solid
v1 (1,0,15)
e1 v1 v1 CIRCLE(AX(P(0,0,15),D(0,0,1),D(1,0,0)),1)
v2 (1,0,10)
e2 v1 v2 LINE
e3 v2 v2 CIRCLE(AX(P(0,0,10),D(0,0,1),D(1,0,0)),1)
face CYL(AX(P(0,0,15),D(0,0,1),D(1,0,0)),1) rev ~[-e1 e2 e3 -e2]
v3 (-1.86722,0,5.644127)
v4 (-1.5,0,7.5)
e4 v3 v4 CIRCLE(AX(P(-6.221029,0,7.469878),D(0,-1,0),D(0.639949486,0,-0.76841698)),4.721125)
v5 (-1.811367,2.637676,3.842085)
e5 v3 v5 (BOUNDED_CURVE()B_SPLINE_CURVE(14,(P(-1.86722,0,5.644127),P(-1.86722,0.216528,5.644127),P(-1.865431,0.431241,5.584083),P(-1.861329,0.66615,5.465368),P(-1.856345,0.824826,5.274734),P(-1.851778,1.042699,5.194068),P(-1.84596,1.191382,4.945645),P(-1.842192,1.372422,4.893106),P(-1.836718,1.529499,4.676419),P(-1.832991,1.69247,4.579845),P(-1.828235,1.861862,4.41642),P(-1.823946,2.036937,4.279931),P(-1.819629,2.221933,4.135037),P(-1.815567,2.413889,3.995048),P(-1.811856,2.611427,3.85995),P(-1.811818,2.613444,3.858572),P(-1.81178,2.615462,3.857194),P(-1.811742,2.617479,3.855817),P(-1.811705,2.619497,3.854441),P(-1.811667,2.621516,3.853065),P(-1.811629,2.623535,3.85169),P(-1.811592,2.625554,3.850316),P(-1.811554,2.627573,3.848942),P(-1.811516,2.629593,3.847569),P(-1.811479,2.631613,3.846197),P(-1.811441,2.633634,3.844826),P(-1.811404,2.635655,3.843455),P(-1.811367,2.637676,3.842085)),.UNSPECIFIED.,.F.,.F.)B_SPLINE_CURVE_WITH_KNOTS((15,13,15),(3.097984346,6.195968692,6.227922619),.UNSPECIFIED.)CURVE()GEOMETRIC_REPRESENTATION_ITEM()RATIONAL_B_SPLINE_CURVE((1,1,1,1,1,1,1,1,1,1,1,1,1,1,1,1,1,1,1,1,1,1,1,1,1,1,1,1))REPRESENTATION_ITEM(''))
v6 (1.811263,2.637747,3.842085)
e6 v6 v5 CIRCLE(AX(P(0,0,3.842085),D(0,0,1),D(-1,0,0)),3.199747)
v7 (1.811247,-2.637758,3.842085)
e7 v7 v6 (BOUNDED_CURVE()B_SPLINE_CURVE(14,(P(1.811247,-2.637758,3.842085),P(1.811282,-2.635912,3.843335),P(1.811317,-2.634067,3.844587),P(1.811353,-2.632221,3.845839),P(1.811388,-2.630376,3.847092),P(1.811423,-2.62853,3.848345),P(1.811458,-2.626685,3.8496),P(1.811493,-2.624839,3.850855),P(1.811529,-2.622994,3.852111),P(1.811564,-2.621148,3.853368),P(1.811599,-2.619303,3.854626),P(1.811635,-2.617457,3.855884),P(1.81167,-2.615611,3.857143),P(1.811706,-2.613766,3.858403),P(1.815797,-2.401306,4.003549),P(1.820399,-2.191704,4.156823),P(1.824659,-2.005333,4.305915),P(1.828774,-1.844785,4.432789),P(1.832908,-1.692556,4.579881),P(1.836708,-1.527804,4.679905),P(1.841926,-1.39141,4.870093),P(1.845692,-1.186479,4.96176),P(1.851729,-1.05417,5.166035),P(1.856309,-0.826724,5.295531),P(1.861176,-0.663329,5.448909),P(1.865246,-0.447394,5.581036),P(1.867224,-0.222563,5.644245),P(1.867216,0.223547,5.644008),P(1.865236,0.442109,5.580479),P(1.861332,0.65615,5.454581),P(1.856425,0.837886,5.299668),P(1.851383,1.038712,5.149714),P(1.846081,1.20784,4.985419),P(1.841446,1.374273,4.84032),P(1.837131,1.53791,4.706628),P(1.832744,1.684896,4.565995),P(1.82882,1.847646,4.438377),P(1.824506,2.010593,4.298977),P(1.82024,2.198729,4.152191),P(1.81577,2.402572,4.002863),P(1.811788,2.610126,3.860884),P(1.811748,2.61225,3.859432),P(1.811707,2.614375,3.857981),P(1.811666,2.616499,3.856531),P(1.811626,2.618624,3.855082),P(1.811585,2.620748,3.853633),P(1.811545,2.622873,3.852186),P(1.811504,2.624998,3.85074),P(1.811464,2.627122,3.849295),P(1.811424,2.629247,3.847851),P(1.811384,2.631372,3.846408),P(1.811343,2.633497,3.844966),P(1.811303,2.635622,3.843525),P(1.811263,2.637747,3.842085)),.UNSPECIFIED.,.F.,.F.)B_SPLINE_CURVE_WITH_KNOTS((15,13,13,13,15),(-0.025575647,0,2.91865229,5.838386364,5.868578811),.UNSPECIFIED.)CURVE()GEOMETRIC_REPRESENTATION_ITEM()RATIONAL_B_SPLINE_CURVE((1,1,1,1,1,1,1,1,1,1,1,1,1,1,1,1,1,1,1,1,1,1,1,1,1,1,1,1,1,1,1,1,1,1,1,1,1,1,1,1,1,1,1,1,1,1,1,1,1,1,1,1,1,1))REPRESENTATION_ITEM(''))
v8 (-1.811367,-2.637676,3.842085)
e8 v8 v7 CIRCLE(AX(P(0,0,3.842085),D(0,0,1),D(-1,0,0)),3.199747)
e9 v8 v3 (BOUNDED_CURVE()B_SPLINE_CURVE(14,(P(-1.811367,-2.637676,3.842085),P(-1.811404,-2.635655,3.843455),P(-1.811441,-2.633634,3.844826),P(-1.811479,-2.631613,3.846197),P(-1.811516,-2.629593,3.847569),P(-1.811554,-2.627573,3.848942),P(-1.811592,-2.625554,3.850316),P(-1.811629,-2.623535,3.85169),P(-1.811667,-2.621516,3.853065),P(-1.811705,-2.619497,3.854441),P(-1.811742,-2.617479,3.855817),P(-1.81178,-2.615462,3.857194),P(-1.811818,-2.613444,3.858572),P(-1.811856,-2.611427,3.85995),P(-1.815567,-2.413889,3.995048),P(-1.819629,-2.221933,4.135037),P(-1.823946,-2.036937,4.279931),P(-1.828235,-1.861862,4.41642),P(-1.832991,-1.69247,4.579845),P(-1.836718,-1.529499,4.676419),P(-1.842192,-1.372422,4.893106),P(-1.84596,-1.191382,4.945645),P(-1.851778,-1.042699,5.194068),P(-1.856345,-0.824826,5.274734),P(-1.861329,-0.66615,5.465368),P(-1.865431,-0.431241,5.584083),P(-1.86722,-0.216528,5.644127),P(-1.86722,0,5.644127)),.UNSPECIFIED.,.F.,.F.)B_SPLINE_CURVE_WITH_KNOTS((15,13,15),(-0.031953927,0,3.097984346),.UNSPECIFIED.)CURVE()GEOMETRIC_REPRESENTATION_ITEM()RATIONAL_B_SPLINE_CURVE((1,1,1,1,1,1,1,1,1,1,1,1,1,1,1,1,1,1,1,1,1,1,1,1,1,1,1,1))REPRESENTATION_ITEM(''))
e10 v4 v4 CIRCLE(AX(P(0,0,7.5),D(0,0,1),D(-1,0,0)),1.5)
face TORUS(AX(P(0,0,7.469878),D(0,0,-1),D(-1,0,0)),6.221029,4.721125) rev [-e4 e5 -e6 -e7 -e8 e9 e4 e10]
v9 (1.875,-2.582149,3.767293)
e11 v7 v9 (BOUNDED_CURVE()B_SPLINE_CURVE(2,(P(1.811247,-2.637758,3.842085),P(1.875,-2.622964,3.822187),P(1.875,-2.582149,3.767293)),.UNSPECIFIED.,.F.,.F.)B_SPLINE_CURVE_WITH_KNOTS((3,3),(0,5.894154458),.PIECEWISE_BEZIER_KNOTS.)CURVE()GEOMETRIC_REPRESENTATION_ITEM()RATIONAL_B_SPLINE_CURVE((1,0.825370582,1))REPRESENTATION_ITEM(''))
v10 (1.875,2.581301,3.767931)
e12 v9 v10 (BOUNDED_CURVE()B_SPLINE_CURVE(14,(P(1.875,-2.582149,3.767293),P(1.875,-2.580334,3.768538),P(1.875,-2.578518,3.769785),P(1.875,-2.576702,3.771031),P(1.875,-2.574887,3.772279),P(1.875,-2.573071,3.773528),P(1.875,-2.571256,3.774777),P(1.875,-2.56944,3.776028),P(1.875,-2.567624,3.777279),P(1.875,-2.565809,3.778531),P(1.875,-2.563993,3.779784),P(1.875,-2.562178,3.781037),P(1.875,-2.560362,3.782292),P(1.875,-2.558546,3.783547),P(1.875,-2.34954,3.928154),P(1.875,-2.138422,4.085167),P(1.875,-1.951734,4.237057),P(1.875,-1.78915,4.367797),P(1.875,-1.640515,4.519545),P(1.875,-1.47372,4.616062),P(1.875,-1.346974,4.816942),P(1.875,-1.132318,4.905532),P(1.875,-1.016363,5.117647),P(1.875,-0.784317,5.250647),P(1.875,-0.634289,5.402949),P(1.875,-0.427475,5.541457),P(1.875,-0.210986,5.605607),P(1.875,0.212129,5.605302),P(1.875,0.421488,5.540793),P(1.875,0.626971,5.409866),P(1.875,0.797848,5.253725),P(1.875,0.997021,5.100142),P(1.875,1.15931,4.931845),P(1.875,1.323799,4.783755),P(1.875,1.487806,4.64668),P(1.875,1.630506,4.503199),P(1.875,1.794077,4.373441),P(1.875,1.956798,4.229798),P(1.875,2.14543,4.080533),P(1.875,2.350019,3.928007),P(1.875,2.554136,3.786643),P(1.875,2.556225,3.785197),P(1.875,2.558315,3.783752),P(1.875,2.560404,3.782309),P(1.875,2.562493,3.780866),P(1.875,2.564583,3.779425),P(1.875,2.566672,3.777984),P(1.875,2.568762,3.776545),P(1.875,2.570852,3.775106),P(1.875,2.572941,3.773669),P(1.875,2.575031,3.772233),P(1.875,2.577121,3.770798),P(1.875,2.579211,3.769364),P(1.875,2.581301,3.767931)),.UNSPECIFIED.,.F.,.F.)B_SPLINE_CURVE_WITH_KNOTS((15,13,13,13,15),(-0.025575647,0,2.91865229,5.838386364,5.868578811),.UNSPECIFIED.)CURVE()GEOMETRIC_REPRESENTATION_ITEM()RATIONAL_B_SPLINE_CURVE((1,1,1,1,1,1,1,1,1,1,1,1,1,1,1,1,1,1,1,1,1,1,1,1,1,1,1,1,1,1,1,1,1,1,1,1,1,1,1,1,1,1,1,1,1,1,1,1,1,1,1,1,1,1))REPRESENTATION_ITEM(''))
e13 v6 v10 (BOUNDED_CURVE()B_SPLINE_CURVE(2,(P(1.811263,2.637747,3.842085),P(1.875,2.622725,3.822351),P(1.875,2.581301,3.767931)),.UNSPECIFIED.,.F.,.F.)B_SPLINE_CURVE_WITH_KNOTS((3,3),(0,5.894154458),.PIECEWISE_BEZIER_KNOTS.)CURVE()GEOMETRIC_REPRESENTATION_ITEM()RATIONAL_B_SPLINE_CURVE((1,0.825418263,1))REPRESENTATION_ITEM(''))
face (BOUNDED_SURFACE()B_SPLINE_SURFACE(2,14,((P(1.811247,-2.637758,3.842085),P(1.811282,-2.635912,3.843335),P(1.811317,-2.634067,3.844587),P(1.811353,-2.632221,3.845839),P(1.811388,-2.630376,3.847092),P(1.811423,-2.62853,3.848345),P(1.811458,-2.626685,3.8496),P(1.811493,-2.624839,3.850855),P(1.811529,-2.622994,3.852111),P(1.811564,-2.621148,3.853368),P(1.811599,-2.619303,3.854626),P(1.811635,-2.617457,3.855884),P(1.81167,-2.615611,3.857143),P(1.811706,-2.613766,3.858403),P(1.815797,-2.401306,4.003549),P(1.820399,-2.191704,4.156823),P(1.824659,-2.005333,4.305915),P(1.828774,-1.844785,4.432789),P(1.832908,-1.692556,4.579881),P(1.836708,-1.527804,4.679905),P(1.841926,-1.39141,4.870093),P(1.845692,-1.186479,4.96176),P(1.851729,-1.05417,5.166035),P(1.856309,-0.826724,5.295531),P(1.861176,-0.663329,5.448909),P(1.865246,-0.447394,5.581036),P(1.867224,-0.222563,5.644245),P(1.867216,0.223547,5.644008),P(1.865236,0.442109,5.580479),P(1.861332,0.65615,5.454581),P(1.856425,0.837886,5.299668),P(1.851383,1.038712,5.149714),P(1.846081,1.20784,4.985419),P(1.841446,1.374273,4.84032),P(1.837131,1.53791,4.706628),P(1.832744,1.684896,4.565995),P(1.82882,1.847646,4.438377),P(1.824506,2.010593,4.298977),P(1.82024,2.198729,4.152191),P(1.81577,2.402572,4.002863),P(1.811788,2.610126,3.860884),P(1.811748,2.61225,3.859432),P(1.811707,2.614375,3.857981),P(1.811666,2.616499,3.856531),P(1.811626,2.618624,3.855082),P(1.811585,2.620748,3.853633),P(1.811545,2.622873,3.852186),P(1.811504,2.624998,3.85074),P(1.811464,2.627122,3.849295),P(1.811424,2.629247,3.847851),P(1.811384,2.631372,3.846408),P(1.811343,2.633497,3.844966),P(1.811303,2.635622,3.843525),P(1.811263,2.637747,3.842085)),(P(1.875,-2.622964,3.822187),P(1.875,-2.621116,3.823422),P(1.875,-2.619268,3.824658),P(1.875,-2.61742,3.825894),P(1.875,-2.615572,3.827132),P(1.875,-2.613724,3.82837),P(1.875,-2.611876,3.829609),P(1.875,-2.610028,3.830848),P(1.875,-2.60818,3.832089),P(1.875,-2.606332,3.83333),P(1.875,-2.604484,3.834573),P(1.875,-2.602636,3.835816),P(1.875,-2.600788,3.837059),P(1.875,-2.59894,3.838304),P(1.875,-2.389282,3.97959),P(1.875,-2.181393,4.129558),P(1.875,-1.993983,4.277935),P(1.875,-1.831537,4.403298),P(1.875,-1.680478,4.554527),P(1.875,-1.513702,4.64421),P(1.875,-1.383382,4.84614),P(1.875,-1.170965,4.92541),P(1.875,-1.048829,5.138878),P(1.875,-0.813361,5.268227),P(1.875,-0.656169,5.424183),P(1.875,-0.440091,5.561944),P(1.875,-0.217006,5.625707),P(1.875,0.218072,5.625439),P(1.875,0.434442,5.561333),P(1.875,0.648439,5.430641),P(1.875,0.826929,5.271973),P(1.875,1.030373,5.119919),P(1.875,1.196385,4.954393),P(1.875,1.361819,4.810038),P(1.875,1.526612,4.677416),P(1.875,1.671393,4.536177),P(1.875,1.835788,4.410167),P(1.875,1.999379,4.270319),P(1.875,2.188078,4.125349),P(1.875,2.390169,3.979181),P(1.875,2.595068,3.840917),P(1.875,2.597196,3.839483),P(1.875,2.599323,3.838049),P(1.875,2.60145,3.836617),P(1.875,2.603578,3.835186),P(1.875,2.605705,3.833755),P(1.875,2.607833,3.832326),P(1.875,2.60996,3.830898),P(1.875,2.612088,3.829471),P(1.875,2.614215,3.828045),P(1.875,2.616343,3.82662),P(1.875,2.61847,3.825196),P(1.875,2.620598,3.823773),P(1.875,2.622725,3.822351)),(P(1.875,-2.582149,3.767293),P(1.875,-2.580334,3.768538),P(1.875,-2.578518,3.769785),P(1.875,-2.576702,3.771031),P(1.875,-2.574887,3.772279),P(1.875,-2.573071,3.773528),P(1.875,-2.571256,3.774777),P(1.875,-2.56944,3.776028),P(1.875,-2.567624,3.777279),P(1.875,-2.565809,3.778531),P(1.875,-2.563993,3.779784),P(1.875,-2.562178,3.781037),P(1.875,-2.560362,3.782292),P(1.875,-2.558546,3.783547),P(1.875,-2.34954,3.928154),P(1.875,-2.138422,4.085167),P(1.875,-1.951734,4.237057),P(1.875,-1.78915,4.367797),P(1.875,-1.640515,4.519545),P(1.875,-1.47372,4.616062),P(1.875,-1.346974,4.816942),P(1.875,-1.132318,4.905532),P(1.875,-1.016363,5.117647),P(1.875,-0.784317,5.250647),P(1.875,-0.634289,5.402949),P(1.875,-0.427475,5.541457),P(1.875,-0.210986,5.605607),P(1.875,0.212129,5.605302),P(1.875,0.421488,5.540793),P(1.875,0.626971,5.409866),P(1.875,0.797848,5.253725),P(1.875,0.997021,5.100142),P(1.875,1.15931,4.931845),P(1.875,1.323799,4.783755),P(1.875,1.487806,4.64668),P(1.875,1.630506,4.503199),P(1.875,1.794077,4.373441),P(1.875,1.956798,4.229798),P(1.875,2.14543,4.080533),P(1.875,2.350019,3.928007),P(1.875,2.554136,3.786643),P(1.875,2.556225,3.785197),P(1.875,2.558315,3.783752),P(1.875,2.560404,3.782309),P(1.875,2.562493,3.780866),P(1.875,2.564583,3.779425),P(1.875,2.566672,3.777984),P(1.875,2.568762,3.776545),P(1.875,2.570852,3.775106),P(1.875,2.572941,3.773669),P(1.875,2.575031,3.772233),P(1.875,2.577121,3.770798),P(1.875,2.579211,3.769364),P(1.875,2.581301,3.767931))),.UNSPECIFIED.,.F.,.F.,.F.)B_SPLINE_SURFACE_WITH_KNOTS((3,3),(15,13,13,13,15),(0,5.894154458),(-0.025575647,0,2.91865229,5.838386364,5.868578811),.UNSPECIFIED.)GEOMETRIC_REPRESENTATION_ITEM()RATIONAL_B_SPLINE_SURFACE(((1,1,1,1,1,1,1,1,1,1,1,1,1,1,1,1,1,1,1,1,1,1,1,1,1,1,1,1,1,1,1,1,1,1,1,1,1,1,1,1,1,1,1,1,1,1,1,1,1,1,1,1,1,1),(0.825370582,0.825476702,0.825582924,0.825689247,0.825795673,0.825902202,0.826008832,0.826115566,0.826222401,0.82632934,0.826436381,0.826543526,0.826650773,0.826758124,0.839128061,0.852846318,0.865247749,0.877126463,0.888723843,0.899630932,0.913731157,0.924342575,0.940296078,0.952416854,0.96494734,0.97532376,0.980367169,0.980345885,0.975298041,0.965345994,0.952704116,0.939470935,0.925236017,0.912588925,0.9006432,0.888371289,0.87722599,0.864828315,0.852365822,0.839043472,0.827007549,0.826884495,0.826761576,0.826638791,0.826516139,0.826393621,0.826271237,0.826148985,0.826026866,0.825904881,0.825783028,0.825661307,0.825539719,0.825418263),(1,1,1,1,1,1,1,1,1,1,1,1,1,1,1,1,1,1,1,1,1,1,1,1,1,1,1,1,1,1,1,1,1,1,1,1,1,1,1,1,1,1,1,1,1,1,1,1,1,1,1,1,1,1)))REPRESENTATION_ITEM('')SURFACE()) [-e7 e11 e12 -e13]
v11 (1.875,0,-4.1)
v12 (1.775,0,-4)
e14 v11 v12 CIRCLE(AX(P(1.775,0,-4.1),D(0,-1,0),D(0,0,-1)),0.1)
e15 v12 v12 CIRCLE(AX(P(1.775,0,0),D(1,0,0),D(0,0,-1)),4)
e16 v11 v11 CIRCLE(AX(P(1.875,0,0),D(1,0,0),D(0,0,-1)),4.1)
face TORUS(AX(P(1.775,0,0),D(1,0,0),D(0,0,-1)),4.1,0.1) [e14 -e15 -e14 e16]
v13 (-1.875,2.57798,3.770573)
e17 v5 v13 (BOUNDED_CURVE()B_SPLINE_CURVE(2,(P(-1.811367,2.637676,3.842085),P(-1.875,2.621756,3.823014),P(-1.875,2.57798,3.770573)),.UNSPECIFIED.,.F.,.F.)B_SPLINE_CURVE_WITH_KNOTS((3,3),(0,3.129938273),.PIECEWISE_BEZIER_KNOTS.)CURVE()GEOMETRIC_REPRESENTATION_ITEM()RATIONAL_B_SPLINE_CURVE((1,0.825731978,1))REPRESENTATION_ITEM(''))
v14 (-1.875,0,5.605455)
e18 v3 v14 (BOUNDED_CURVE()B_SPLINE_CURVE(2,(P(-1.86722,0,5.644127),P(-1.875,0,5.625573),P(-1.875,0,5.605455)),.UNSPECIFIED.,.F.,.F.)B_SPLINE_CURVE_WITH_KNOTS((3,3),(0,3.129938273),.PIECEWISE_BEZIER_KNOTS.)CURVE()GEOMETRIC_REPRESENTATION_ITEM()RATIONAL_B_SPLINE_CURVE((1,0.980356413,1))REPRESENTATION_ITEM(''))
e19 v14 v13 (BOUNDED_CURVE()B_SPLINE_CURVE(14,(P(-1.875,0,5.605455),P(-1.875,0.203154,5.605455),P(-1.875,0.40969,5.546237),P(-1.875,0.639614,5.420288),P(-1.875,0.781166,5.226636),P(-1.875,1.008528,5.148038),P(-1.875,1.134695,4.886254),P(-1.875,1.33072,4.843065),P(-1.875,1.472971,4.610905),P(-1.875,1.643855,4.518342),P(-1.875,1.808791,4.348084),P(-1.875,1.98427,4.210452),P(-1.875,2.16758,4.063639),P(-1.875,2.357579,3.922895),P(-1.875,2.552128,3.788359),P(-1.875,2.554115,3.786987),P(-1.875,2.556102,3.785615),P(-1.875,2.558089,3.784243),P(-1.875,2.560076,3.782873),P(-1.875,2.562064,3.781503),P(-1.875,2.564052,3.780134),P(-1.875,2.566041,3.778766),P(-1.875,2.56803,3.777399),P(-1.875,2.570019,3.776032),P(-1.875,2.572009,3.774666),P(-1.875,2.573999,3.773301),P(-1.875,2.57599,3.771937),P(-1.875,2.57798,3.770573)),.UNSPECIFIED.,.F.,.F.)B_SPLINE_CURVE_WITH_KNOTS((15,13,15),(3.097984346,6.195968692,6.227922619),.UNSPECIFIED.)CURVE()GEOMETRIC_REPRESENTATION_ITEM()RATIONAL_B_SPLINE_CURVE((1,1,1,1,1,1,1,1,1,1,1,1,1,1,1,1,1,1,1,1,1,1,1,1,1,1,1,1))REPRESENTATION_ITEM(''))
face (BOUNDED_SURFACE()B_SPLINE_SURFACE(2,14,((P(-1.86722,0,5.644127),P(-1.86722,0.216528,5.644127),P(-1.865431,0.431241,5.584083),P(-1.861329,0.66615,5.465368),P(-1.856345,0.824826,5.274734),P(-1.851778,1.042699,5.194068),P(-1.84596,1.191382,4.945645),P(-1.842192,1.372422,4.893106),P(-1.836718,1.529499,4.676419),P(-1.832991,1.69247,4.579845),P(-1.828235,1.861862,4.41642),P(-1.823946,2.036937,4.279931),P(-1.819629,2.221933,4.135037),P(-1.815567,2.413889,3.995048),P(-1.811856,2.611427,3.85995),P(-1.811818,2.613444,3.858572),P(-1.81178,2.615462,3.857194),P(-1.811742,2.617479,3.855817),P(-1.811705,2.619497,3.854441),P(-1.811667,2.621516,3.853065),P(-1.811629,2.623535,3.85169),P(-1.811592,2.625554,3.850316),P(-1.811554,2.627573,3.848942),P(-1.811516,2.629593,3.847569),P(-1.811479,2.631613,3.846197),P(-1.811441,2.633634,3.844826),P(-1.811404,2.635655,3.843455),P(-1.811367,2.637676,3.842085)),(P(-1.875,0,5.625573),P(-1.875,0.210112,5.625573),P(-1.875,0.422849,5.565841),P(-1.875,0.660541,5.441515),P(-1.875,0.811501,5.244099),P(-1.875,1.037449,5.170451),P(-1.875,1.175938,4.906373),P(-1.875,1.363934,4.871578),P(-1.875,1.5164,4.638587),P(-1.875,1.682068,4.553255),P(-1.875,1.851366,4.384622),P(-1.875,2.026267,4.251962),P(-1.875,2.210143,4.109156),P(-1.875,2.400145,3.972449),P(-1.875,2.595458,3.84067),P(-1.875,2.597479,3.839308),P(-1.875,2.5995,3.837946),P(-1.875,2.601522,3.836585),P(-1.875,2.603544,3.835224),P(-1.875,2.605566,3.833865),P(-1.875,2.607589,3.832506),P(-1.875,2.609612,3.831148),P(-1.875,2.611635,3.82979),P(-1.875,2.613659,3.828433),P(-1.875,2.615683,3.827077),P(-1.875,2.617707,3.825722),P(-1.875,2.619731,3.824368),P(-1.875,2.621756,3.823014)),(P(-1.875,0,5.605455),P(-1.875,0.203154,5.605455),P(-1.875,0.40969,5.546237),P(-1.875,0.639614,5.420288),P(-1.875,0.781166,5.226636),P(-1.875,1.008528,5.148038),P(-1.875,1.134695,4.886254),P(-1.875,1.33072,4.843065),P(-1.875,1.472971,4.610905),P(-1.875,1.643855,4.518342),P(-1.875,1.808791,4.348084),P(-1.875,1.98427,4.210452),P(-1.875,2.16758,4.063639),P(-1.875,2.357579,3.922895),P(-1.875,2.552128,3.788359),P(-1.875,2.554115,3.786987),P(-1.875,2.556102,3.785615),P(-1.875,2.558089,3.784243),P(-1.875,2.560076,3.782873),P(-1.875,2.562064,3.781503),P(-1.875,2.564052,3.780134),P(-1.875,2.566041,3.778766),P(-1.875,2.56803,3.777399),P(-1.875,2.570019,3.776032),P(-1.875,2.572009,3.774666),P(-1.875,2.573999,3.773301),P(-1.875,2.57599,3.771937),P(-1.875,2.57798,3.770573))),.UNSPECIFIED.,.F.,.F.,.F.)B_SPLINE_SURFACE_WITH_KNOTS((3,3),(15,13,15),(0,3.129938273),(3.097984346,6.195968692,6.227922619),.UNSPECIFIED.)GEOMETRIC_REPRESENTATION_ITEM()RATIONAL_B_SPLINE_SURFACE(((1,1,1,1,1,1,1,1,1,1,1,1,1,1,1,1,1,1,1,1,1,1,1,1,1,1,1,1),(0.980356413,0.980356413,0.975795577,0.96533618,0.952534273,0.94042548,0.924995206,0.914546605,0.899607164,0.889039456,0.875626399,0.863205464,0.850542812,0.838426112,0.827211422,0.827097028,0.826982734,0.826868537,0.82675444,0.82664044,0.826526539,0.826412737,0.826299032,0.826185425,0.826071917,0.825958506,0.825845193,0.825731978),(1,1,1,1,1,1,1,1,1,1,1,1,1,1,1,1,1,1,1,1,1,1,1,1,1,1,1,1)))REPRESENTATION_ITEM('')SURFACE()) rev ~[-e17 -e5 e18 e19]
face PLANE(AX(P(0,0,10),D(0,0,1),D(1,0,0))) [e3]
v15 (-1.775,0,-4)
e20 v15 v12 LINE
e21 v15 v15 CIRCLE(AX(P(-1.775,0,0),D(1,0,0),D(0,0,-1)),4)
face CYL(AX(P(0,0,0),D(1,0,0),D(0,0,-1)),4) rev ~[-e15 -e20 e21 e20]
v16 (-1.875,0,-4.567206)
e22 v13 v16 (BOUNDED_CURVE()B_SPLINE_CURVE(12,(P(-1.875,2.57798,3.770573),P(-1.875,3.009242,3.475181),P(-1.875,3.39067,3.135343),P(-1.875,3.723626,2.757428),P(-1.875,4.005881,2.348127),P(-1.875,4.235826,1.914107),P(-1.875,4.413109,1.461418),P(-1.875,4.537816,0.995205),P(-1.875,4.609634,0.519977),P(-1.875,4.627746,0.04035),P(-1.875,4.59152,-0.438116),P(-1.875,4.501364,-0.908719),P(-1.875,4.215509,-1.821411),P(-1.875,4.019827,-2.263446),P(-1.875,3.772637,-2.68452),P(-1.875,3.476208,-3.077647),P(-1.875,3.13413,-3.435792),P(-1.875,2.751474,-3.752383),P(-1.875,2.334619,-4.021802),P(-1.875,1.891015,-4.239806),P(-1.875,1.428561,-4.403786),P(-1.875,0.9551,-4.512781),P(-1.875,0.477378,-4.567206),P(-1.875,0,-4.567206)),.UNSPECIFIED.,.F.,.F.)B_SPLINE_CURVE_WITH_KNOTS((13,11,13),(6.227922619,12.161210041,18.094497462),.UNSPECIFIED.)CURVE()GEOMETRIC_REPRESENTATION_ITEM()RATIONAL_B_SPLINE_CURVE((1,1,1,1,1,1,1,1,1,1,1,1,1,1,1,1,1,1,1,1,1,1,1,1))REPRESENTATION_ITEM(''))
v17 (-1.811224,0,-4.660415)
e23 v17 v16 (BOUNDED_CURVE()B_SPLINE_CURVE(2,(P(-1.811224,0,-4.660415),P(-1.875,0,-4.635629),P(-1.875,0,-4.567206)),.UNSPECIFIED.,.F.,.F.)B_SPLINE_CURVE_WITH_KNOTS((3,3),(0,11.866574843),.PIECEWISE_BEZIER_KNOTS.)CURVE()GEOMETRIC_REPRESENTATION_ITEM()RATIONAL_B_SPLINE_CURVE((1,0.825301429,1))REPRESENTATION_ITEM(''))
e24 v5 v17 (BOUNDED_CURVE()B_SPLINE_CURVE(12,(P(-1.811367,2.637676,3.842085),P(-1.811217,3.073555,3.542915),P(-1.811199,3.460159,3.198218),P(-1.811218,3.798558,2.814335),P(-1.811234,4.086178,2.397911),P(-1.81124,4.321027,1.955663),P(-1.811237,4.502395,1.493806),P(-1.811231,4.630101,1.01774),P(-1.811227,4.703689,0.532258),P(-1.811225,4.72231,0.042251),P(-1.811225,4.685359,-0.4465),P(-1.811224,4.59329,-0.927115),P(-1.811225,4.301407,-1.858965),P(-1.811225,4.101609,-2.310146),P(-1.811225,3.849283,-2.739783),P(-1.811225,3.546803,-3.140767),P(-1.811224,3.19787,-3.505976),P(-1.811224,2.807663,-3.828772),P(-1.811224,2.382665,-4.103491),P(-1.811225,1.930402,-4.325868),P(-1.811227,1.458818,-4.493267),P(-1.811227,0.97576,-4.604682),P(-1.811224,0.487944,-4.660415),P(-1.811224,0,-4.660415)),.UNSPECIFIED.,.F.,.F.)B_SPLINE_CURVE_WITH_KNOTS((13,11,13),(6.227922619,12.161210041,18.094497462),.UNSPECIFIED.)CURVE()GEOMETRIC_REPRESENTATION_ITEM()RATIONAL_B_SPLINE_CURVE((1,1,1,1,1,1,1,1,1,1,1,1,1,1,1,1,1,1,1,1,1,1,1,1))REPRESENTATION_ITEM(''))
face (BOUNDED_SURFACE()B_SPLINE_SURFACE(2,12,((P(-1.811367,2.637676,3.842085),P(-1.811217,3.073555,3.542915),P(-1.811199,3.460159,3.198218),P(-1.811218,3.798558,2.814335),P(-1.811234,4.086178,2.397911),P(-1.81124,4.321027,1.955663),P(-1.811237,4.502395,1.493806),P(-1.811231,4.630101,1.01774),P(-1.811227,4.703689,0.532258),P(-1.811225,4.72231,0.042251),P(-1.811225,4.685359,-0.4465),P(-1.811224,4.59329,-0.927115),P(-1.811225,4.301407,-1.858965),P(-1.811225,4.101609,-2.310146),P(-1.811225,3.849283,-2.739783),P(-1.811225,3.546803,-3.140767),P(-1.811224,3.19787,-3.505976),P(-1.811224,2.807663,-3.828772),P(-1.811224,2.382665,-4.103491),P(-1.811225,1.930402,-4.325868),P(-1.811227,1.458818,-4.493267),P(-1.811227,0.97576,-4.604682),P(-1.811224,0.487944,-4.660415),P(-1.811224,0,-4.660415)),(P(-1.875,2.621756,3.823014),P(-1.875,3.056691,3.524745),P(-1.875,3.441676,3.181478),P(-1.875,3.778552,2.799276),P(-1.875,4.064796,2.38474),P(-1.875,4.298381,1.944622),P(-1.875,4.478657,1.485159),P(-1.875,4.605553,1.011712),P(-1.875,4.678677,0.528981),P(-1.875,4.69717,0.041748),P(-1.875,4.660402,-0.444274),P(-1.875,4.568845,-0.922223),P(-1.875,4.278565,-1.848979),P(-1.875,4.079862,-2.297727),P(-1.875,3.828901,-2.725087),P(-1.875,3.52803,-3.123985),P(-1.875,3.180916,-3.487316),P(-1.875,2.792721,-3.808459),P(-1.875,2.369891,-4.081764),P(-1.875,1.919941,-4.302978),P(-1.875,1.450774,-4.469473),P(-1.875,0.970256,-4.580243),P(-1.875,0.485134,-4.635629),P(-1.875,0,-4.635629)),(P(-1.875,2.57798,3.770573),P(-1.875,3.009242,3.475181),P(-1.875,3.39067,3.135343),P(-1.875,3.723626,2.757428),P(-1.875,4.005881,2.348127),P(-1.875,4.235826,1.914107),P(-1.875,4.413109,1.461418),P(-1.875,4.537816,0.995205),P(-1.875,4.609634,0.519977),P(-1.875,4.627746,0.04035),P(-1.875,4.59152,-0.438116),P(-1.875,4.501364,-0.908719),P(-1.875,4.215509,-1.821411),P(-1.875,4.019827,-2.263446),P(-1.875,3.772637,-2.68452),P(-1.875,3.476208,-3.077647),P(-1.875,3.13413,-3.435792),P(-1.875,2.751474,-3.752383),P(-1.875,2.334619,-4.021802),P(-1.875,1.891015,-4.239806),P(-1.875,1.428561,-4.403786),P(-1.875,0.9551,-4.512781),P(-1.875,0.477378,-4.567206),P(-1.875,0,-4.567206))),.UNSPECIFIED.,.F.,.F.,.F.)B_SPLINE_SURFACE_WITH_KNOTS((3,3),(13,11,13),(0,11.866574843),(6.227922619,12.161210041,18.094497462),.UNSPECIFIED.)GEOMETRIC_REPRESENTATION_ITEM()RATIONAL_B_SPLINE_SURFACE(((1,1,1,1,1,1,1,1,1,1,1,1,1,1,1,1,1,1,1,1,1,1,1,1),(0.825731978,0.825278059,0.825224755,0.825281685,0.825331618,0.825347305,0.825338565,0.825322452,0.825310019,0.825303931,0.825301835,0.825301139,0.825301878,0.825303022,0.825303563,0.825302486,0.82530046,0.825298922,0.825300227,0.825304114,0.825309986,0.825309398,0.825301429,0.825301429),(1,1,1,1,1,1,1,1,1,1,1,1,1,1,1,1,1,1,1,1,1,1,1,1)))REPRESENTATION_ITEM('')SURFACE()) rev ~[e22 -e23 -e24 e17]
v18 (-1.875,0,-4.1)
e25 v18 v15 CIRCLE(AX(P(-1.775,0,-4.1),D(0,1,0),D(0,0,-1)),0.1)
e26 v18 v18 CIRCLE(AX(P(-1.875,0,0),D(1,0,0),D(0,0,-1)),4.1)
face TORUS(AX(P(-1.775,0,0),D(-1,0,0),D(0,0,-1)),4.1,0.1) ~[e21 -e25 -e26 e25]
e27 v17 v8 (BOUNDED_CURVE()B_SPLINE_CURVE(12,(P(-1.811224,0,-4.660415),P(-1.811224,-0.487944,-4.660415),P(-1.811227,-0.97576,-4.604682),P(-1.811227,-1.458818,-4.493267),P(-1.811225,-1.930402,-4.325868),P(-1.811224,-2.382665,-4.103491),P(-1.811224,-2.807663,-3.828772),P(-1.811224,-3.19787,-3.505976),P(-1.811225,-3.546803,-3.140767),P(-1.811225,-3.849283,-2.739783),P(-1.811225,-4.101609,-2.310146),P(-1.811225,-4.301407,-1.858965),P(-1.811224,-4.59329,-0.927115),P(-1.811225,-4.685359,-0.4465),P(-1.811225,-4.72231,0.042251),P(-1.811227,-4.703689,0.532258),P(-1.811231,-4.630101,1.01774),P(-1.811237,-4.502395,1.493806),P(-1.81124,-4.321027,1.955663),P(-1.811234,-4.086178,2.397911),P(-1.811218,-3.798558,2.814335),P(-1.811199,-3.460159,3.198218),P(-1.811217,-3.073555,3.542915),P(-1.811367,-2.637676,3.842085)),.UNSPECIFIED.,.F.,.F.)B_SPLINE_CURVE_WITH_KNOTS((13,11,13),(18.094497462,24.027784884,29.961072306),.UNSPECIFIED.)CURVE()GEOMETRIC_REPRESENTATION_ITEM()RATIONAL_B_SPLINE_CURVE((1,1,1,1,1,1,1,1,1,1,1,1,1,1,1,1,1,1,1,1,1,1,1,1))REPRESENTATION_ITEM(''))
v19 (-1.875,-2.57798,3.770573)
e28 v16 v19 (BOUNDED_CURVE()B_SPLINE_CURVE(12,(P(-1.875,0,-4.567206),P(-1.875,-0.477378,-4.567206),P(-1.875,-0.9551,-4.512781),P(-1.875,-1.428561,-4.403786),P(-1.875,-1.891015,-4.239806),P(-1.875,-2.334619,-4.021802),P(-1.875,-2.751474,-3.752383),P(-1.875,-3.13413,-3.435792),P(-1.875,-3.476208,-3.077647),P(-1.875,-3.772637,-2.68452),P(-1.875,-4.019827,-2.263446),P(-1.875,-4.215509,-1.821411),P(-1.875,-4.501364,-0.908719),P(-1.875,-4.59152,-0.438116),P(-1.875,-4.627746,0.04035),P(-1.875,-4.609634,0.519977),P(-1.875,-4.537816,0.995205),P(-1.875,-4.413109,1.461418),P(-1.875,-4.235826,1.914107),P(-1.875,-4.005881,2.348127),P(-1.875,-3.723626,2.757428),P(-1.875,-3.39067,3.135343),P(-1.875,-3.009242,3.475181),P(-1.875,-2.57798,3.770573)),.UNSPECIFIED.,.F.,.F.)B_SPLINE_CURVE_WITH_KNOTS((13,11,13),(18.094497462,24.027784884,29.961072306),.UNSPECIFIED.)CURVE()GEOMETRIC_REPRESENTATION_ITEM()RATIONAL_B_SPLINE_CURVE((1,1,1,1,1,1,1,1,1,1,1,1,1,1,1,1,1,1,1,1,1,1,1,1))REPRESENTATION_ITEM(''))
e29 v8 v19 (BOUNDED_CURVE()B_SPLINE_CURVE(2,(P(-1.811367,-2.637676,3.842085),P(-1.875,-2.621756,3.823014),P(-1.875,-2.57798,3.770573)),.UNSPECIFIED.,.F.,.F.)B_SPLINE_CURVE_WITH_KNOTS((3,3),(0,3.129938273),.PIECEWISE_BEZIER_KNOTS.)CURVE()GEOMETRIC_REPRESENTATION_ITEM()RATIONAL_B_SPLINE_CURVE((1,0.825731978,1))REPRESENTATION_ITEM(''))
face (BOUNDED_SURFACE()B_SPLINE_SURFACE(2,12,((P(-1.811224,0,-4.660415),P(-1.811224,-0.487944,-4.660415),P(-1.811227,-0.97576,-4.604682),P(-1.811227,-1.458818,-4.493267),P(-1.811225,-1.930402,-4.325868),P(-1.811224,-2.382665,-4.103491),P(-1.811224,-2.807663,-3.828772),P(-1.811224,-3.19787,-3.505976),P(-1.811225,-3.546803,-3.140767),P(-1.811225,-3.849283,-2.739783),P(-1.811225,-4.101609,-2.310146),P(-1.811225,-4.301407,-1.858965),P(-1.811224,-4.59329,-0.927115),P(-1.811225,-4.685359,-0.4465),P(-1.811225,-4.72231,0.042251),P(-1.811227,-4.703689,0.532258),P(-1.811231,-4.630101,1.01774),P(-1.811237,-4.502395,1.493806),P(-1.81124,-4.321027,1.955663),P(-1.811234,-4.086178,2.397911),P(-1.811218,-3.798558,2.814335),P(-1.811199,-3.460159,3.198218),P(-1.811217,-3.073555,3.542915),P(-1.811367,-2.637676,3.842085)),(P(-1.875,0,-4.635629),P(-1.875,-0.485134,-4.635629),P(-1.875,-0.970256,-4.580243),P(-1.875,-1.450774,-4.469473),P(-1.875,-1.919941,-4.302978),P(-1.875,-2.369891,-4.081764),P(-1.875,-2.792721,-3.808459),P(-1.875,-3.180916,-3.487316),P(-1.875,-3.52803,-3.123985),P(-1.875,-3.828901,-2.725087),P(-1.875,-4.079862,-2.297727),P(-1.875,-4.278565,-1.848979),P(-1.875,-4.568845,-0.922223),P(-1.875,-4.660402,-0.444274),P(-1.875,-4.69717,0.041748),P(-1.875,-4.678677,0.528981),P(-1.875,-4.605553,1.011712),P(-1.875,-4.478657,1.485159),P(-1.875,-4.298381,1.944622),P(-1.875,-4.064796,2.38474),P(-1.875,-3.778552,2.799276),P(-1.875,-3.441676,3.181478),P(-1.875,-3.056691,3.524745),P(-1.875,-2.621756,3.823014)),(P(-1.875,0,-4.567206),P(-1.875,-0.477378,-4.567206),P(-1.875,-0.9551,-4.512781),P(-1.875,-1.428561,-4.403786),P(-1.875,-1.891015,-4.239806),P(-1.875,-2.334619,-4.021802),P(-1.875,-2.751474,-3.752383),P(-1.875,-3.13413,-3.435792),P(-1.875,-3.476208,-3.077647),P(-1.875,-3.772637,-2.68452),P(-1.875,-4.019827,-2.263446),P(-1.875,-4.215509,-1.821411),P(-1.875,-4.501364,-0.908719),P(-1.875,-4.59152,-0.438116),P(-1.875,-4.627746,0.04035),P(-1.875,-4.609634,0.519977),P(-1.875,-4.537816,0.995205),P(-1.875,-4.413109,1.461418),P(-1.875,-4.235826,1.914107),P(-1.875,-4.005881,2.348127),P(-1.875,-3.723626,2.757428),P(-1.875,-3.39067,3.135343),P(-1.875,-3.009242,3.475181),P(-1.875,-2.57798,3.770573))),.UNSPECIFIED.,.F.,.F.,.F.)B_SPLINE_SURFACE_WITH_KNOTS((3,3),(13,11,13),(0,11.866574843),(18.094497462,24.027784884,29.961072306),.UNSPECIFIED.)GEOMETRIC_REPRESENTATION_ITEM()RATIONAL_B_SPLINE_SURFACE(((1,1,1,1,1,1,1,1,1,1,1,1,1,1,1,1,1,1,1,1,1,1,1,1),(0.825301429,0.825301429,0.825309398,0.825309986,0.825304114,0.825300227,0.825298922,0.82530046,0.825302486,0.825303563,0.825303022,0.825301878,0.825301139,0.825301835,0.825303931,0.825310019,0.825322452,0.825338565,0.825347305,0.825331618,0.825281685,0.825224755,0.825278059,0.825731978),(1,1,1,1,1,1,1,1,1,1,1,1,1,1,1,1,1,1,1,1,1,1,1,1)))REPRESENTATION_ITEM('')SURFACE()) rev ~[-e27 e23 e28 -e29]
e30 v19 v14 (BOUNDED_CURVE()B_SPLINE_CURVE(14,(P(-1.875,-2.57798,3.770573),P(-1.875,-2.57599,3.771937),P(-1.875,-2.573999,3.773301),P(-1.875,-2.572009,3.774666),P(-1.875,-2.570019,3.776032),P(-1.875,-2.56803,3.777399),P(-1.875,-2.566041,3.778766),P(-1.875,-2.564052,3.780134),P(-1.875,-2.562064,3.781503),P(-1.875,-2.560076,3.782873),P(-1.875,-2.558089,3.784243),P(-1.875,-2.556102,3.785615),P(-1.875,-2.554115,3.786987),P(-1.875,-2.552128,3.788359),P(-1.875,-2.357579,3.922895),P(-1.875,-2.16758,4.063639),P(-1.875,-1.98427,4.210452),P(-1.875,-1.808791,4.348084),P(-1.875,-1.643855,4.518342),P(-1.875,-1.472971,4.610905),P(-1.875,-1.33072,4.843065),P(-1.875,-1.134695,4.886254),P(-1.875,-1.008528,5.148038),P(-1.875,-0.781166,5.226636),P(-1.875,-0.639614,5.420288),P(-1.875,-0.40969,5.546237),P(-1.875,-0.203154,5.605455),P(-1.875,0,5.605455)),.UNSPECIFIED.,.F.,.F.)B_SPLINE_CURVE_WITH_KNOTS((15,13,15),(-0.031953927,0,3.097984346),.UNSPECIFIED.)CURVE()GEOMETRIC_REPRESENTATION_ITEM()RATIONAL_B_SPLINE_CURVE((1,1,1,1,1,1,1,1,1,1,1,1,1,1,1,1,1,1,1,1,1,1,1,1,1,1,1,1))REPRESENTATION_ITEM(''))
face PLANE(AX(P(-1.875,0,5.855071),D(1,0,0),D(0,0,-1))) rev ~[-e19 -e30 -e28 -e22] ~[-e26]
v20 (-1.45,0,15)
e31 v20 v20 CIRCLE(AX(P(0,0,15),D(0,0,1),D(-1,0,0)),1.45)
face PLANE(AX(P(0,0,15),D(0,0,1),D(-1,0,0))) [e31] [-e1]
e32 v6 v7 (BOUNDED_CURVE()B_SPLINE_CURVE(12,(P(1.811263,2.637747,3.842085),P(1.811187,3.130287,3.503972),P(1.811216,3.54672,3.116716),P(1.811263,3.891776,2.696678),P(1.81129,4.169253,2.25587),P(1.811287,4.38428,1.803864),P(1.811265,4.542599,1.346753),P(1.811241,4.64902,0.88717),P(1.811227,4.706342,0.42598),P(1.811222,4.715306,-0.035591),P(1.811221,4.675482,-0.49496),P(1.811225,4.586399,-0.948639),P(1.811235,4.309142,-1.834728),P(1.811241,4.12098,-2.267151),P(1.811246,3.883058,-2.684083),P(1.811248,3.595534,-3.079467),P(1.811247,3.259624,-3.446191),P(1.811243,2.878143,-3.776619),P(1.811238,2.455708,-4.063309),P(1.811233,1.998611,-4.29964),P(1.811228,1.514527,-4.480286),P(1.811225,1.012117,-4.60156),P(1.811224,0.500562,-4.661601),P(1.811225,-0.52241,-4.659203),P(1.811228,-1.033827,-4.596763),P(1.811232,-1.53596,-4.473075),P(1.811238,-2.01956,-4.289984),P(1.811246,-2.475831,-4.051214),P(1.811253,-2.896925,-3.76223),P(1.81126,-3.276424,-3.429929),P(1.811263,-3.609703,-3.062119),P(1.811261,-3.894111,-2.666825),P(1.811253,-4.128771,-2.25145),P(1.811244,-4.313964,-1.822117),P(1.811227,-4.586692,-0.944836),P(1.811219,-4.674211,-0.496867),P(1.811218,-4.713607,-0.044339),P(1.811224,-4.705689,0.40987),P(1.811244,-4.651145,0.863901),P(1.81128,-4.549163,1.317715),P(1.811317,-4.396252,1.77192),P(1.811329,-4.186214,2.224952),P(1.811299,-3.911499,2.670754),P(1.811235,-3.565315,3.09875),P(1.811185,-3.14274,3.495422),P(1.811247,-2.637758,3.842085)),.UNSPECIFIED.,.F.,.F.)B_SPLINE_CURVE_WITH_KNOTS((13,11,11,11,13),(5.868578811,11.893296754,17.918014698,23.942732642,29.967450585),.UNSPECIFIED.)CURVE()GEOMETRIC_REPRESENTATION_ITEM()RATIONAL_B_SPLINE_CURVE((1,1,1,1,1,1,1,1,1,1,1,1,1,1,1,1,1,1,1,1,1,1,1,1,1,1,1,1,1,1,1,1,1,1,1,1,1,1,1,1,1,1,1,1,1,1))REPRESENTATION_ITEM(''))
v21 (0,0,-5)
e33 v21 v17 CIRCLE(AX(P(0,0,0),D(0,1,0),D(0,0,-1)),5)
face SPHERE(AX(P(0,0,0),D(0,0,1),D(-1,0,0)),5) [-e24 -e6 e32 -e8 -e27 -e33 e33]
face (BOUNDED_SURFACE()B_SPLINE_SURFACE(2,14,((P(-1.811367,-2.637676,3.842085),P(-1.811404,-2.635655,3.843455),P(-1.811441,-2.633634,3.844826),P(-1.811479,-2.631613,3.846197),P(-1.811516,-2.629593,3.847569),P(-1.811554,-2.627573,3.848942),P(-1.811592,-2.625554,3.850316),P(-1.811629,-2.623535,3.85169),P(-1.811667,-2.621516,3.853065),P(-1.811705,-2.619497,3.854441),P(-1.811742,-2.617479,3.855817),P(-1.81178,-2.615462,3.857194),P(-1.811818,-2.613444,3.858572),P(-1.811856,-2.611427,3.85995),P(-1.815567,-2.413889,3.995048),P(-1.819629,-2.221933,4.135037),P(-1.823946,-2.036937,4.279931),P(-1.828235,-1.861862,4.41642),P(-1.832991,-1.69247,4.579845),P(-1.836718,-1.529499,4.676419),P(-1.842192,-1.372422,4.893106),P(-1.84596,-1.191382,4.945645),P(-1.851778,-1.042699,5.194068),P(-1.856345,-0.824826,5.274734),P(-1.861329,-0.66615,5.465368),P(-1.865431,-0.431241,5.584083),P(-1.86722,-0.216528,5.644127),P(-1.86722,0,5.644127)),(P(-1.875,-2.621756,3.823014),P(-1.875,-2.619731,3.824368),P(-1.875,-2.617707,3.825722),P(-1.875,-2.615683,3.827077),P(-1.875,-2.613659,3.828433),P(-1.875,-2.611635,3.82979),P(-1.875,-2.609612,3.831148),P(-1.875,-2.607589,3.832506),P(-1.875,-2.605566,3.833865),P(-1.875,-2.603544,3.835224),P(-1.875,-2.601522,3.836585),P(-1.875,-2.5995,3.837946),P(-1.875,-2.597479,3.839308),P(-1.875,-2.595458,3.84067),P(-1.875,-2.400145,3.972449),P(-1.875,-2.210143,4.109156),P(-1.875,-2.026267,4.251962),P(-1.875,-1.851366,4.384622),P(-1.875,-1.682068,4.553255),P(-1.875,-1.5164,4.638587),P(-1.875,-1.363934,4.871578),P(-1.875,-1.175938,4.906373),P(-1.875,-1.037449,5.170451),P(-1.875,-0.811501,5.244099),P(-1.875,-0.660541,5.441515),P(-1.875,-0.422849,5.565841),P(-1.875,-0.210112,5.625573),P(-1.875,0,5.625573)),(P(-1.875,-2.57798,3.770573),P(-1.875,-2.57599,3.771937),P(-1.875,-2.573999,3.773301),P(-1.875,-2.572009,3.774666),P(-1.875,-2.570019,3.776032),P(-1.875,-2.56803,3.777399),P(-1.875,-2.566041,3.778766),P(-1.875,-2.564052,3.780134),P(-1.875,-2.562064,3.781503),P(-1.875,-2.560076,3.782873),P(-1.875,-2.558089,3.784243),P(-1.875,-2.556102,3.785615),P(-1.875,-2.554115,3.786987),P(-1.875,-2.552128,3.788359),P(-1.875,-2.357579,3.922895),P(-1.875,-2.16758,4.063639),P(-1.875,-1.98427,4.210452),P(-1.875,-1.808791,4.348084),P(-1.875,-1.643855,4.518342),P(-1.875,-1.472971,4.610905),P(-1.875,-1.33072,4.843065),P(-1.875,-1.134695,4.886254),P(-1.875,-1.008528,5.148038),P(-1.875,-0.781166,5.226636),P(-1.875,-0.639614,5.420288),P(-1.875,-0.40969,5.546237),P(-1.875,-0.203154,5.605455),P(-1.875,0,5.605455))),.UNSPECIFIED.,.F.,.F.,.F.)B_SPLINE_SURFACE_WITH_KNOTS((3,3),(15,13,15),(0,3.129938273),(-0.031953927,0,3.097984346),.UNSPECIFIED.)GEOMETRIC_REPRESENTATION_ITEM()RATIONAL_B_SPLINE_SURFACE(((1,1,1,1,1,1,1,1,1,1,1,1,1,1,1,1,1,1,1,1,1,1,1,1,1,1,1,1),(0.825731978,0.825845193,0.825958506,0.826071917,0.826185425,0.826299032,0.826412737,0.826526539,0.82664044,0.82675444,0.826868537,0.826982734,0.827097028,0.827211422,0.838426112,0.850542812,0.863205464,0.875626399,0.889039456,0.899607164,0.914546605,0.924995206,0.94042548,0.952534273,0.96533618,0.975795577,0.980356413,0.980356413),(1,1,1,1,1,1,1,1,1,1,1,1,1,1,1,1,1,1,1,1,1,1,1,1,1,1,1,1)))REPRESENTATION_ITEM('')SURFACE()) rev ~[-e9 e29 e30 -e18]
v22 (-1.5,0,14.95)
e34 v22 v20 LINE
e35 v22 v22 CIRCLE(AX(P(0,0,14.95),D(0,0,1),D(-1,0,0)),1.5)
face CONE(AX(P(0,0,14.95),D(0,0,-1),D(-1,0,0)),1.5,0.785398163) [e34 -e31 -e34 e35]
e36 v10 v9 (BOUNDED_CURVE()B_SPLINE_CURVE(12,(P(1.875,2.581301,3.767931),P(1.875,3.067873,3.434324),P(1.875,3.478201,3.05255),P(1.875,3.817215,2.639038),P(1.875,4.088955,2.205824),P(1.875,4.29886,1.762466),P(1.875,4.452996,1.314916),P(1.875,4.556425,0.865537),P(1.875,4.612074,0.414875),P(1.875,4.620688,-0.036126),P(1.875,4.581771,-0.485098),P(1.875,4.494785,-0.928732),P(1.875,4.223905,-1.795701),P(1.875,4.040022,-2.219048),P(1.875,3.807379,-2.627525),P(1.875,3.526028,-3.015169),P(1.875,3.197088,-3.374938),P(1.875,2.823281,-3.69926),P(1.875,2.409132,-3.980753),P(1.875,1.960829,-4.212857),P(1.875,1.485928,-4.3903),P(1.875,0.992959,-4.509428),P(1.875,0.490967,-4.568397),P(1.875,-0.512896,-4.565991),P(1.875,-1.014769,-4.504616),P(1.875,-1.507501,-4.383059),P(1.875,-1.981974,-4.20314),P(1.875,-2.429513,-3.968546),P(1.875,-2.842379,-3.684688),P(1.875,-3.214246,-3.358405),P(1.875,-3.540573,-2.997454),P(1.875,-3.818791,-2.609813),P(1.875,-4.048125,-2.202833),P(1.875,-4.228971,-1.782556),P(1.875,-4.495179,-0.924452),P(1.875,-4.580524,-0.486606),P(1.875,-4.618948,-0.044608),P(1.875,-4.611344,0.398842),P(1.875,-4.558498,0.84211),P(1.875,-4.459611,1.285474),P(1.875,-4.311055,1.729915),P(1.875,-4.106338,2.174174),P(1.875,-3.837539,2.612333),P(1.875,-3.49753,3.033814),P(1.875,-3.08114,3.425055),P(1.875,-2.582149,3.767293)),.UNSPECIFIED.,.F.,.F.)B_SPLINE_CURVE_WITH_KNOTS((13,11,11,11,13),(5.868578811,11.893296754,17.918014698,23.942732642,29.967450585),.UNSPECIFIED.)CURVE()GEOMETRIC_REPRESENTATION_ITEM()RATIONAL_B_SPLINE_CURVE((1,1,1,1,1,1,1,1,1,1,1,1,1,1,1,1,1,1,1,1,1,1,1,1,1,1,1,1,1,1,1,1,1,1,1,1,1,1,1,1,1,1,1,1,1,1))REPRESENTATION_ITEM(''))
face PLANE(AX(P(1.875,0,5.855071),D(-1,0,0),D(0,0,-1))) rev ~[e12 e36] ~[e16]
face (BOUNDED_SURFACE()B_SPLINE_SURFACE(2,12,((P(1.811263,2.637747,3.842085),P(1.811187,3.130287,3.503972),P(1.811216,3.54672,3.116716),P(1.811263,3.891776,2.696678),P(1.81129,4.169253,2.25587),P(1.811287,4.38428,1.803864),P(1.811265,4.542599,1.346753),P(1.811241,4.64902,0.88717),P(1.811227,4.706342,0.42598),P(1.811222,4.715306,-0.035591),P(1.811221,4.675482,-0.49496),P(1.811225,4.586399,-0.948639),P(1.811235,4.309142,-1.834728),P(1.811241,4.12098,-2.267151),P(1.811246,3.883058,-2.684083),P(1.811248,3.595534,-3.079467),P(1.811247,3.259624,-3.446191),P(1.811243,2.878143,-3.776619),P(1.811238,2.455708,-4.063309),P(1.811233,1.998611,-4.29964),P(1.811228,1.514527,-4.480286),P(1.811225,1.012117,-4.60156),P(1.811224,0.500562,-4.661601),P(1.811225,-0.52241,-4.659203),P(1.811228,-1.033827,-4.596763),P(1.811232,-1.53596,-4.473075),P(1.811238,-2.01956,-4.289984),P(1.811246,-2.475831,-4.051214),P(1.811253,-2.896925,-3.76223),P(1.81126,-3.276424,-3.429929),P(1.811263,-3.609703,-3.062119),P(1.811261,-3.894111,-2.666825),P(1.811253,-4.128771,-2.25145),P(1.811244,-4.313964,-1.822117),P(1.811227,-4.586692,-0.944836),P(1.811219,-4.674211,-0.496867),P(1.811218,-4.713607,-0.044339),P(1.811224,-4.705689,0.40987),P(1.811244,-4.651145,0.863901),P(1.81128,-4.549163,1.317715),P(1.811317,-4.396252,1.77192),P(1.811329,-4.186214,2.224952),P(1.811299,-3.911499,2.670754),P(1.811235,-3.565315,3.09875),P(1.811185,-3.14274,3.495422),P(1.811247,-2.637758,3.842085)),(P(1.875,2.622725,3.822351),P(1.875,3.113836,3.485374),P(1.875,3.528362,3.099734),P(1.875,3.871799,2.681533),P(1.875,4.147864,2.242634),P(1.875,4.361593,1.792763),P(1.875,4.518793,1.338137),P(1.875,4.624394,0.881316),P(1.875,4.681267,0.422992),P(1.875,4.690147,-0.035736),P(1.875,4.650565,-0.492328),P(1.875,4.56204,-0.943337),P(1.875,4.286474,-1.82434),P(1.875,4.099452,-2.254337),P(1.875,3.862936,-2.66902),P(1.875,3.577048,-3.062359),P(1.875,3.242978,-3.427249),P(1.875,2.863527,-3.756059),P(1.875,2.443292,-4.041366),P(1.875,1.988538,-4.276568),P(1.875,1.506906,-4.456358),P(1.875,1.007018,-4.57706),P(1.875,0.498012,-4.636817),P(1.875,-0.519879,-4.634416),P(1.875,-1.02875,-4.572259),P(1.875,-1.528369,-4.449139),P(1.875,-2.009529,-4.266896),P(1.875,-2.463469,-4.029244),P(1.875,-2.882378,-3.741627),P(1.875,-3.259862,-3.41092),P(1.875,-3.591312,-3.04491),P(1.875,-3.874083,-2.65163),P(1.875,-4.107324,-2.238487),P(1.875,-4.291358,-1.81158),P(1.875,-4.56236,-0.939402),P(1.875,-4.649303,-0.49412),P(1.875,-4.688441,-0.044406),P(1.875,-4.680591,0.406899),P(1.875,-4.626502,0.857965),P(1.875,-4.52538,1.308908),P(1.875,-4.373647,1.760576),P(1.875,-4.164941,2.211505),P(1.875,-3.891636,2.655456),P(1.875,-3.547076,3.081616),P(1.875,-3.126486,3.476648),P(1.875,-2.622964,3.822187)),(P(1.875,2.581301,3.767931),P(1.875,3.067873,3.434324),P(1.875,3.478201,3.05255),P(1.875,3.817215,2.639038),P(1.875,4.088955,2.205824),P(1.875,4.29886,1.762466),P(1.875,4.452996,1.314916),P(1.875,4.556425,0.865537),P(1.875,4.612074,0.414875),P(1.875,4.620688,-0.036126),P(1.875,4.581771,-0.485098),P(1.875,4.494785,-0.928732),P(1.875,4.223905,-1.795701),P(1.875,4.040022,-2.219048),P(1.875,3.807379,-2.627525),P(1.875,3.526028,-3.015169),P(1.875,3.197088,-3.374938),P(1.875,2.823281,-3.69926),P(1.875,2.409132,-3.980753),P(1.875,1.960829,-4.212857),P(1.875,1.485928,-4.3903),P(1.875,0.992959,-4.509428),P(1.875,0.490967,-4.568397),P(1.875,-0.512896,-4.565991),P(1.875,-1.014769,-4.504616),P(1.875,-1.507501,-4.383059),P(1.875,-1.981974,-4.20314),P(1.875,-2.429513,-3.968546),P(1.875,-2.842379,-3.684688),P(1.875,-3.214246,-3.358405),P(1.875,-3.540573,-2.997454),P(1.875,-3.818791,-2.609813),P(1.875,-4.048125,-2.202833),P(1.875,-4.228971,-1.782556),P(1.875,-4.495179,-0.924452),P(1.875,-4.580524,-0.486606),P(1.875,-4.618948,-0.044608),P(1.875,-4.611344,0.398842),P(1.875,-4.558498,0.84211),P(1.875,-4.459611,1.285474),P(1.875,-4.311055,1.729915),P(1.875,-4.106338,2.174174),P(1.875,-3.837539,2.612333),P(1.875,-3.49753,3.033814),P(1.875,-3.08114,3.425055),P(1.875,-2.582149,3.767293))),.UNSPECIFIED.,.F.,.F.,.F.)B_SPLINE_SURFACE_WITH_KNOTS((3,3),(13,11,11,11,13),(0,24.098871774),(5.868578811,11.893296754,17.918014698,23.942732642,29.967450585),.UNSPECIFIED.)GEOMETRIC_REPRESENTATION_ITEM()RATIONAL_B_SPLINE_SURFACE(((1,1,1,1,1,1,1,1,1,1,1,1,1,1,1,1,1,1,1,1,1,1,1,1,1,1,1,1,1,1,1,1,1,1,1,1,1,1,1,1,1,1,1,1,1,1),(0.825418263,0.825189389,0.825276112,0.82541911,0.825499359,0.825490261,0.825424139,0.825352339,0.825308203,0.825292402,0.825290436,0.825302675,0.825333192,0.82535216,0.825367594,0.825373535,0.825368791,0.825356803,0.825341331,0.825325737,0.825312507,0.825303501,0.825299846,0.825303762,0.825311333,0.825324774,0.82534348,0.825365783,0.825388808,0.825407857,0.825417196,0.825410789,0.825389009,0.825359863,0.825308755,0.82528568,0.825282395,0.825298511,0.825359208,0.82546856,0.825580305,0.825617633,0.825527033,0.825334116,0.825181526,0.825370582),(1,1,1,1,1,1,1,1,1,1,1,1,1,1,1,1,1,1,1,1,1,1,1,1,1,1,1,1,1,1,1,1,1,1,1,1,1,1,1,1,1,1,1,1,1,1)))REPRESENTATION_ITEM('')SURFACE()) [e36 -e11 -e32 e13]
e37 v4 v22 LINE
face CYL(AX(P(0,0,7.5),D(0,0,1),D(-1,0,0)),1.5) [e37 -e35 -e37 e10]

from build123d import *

# Parameters (mm, degrees)
CUT_EXTRUDE2_DEPTH = 10
SKETCH5_R          = 4
CUT_EXTRUDE3_DEPTH = 10
FILLET1_R          = 0.1
SKETCH6_R          = 1
CUT_EXTRUDE4_DEPTH = 5
CHAMFER1_SIZE      = 0.05


with BuildPart() as part:
    # Sketch2 → Revolve1 (revolve)
    with BuildSketch(Plane(origin=(0, 0, 0), x_dir=(1, 0, 0), z_dir=(0, 1, 0))):
        with BuildLine():
            Line((-1.5, -15), (0, -15))
            Line((0, -15), (0, 5))
            ThreePointArc((0, 5), (-4.701618046, 1.701407579), (-3.199747431, -3.8420849))
            ThreePointArc((-3.199747431, -3.8420849), (-1.93956559, -5.480381879), (-1.5, -7.5))
            Line((-1.5, -7.5), (-1.5, -15))
        make_face()
    revolve(axis=Axis((0, 0, -5), (0, 0, 1)))

    # Sketch3 → Cut-Extrude2 (cut, symmetric)
    with BuildSketch(Plane(origin=(0, 0, 0), x_dir=(1, 0, 0), z_dir=(0, 1, 0))):
        with BuildLine():
            Line((1.875, -5.855071388), (1.875, 9.3726866))
            Line((1.875, 9.3726866), (7.480687136, 9.3726866))
            Line((7.480687136, 9.3726866), (7.480687136, -15.437316242))
            Line((7.480687136, -15.437316242), (2.779239779, -8.722953569))
            ThreePointArc((2.779239779, -8.722953569), (2.106415246, -7.358600385), (1.875, -5.855071388))
        make_face()
        with BuildLine():
            Line((-1.875, 9.3726866), (-7.480687136, 9.3726866))
            Line((-7.480687136, 9.3726866), (-7.480687136, -15.437316242))
            Line((-7.480687136, -15.437316242), (-2.779239779, -8.722953569))
            ThreePointArc((-2.779239779, -8.722953569), (-2.106415246, -7.358600385), (-1.875, -5.855071388))
            Line((-1.875, -5.855071388), (-1.875, 9.3726866))
        make_face()
    extrude(amount=CUT_EXTRUDE2_DEPTH, both=True, mode=Mode.SUBTRACT)

    # Sketch5 → Cut-Extrude3 (cut, symmetric)
    with BuildSketch(Plane(origin=(0, 0, 0), x_dir=(0, 0, -1), z_dir=(1, 0, 0))):
        Circle(SKETCH5_R)
    extrude(amount=CUT_EXTRUDE3_DEPTH, both=True, mode=Mode.SUBTRACT)

    # Fillet1
    fillet1_edges = [part.edges().sort_by_distance(p)[0] for p in [
        (-1.875, -1.344126033, 4.829899297),
        (1.875, 0, 5.625682901),
        (1.875, 0, -4.635124054),
        (-1.875, -4.432432466, -1.355698134),
        (1.875, 0, 4),
        (-1.875, 0, 4),
    ]]
    fillet(fillet1_edges, radius=FILLET1_R)

    # Sketch6 → Cut-Extrude4 (cut)
    with BuildSketch(Plane.XY.offset(15)):
        Circle(SKETCH6_R)
    extrude(amount=-CUT_EXTRUDE4_DEPTH, mode=Mode.SUBTRACT)

    # Chamfer1
    chamfer1_edges = [part.edges().sort_by_distance(p)[0] for p in [
        (1.5, 0, 15),
    ]]
    chamfer(chamfer1_edges, length=CHAMFER1_SIZE)


solid = part.part
